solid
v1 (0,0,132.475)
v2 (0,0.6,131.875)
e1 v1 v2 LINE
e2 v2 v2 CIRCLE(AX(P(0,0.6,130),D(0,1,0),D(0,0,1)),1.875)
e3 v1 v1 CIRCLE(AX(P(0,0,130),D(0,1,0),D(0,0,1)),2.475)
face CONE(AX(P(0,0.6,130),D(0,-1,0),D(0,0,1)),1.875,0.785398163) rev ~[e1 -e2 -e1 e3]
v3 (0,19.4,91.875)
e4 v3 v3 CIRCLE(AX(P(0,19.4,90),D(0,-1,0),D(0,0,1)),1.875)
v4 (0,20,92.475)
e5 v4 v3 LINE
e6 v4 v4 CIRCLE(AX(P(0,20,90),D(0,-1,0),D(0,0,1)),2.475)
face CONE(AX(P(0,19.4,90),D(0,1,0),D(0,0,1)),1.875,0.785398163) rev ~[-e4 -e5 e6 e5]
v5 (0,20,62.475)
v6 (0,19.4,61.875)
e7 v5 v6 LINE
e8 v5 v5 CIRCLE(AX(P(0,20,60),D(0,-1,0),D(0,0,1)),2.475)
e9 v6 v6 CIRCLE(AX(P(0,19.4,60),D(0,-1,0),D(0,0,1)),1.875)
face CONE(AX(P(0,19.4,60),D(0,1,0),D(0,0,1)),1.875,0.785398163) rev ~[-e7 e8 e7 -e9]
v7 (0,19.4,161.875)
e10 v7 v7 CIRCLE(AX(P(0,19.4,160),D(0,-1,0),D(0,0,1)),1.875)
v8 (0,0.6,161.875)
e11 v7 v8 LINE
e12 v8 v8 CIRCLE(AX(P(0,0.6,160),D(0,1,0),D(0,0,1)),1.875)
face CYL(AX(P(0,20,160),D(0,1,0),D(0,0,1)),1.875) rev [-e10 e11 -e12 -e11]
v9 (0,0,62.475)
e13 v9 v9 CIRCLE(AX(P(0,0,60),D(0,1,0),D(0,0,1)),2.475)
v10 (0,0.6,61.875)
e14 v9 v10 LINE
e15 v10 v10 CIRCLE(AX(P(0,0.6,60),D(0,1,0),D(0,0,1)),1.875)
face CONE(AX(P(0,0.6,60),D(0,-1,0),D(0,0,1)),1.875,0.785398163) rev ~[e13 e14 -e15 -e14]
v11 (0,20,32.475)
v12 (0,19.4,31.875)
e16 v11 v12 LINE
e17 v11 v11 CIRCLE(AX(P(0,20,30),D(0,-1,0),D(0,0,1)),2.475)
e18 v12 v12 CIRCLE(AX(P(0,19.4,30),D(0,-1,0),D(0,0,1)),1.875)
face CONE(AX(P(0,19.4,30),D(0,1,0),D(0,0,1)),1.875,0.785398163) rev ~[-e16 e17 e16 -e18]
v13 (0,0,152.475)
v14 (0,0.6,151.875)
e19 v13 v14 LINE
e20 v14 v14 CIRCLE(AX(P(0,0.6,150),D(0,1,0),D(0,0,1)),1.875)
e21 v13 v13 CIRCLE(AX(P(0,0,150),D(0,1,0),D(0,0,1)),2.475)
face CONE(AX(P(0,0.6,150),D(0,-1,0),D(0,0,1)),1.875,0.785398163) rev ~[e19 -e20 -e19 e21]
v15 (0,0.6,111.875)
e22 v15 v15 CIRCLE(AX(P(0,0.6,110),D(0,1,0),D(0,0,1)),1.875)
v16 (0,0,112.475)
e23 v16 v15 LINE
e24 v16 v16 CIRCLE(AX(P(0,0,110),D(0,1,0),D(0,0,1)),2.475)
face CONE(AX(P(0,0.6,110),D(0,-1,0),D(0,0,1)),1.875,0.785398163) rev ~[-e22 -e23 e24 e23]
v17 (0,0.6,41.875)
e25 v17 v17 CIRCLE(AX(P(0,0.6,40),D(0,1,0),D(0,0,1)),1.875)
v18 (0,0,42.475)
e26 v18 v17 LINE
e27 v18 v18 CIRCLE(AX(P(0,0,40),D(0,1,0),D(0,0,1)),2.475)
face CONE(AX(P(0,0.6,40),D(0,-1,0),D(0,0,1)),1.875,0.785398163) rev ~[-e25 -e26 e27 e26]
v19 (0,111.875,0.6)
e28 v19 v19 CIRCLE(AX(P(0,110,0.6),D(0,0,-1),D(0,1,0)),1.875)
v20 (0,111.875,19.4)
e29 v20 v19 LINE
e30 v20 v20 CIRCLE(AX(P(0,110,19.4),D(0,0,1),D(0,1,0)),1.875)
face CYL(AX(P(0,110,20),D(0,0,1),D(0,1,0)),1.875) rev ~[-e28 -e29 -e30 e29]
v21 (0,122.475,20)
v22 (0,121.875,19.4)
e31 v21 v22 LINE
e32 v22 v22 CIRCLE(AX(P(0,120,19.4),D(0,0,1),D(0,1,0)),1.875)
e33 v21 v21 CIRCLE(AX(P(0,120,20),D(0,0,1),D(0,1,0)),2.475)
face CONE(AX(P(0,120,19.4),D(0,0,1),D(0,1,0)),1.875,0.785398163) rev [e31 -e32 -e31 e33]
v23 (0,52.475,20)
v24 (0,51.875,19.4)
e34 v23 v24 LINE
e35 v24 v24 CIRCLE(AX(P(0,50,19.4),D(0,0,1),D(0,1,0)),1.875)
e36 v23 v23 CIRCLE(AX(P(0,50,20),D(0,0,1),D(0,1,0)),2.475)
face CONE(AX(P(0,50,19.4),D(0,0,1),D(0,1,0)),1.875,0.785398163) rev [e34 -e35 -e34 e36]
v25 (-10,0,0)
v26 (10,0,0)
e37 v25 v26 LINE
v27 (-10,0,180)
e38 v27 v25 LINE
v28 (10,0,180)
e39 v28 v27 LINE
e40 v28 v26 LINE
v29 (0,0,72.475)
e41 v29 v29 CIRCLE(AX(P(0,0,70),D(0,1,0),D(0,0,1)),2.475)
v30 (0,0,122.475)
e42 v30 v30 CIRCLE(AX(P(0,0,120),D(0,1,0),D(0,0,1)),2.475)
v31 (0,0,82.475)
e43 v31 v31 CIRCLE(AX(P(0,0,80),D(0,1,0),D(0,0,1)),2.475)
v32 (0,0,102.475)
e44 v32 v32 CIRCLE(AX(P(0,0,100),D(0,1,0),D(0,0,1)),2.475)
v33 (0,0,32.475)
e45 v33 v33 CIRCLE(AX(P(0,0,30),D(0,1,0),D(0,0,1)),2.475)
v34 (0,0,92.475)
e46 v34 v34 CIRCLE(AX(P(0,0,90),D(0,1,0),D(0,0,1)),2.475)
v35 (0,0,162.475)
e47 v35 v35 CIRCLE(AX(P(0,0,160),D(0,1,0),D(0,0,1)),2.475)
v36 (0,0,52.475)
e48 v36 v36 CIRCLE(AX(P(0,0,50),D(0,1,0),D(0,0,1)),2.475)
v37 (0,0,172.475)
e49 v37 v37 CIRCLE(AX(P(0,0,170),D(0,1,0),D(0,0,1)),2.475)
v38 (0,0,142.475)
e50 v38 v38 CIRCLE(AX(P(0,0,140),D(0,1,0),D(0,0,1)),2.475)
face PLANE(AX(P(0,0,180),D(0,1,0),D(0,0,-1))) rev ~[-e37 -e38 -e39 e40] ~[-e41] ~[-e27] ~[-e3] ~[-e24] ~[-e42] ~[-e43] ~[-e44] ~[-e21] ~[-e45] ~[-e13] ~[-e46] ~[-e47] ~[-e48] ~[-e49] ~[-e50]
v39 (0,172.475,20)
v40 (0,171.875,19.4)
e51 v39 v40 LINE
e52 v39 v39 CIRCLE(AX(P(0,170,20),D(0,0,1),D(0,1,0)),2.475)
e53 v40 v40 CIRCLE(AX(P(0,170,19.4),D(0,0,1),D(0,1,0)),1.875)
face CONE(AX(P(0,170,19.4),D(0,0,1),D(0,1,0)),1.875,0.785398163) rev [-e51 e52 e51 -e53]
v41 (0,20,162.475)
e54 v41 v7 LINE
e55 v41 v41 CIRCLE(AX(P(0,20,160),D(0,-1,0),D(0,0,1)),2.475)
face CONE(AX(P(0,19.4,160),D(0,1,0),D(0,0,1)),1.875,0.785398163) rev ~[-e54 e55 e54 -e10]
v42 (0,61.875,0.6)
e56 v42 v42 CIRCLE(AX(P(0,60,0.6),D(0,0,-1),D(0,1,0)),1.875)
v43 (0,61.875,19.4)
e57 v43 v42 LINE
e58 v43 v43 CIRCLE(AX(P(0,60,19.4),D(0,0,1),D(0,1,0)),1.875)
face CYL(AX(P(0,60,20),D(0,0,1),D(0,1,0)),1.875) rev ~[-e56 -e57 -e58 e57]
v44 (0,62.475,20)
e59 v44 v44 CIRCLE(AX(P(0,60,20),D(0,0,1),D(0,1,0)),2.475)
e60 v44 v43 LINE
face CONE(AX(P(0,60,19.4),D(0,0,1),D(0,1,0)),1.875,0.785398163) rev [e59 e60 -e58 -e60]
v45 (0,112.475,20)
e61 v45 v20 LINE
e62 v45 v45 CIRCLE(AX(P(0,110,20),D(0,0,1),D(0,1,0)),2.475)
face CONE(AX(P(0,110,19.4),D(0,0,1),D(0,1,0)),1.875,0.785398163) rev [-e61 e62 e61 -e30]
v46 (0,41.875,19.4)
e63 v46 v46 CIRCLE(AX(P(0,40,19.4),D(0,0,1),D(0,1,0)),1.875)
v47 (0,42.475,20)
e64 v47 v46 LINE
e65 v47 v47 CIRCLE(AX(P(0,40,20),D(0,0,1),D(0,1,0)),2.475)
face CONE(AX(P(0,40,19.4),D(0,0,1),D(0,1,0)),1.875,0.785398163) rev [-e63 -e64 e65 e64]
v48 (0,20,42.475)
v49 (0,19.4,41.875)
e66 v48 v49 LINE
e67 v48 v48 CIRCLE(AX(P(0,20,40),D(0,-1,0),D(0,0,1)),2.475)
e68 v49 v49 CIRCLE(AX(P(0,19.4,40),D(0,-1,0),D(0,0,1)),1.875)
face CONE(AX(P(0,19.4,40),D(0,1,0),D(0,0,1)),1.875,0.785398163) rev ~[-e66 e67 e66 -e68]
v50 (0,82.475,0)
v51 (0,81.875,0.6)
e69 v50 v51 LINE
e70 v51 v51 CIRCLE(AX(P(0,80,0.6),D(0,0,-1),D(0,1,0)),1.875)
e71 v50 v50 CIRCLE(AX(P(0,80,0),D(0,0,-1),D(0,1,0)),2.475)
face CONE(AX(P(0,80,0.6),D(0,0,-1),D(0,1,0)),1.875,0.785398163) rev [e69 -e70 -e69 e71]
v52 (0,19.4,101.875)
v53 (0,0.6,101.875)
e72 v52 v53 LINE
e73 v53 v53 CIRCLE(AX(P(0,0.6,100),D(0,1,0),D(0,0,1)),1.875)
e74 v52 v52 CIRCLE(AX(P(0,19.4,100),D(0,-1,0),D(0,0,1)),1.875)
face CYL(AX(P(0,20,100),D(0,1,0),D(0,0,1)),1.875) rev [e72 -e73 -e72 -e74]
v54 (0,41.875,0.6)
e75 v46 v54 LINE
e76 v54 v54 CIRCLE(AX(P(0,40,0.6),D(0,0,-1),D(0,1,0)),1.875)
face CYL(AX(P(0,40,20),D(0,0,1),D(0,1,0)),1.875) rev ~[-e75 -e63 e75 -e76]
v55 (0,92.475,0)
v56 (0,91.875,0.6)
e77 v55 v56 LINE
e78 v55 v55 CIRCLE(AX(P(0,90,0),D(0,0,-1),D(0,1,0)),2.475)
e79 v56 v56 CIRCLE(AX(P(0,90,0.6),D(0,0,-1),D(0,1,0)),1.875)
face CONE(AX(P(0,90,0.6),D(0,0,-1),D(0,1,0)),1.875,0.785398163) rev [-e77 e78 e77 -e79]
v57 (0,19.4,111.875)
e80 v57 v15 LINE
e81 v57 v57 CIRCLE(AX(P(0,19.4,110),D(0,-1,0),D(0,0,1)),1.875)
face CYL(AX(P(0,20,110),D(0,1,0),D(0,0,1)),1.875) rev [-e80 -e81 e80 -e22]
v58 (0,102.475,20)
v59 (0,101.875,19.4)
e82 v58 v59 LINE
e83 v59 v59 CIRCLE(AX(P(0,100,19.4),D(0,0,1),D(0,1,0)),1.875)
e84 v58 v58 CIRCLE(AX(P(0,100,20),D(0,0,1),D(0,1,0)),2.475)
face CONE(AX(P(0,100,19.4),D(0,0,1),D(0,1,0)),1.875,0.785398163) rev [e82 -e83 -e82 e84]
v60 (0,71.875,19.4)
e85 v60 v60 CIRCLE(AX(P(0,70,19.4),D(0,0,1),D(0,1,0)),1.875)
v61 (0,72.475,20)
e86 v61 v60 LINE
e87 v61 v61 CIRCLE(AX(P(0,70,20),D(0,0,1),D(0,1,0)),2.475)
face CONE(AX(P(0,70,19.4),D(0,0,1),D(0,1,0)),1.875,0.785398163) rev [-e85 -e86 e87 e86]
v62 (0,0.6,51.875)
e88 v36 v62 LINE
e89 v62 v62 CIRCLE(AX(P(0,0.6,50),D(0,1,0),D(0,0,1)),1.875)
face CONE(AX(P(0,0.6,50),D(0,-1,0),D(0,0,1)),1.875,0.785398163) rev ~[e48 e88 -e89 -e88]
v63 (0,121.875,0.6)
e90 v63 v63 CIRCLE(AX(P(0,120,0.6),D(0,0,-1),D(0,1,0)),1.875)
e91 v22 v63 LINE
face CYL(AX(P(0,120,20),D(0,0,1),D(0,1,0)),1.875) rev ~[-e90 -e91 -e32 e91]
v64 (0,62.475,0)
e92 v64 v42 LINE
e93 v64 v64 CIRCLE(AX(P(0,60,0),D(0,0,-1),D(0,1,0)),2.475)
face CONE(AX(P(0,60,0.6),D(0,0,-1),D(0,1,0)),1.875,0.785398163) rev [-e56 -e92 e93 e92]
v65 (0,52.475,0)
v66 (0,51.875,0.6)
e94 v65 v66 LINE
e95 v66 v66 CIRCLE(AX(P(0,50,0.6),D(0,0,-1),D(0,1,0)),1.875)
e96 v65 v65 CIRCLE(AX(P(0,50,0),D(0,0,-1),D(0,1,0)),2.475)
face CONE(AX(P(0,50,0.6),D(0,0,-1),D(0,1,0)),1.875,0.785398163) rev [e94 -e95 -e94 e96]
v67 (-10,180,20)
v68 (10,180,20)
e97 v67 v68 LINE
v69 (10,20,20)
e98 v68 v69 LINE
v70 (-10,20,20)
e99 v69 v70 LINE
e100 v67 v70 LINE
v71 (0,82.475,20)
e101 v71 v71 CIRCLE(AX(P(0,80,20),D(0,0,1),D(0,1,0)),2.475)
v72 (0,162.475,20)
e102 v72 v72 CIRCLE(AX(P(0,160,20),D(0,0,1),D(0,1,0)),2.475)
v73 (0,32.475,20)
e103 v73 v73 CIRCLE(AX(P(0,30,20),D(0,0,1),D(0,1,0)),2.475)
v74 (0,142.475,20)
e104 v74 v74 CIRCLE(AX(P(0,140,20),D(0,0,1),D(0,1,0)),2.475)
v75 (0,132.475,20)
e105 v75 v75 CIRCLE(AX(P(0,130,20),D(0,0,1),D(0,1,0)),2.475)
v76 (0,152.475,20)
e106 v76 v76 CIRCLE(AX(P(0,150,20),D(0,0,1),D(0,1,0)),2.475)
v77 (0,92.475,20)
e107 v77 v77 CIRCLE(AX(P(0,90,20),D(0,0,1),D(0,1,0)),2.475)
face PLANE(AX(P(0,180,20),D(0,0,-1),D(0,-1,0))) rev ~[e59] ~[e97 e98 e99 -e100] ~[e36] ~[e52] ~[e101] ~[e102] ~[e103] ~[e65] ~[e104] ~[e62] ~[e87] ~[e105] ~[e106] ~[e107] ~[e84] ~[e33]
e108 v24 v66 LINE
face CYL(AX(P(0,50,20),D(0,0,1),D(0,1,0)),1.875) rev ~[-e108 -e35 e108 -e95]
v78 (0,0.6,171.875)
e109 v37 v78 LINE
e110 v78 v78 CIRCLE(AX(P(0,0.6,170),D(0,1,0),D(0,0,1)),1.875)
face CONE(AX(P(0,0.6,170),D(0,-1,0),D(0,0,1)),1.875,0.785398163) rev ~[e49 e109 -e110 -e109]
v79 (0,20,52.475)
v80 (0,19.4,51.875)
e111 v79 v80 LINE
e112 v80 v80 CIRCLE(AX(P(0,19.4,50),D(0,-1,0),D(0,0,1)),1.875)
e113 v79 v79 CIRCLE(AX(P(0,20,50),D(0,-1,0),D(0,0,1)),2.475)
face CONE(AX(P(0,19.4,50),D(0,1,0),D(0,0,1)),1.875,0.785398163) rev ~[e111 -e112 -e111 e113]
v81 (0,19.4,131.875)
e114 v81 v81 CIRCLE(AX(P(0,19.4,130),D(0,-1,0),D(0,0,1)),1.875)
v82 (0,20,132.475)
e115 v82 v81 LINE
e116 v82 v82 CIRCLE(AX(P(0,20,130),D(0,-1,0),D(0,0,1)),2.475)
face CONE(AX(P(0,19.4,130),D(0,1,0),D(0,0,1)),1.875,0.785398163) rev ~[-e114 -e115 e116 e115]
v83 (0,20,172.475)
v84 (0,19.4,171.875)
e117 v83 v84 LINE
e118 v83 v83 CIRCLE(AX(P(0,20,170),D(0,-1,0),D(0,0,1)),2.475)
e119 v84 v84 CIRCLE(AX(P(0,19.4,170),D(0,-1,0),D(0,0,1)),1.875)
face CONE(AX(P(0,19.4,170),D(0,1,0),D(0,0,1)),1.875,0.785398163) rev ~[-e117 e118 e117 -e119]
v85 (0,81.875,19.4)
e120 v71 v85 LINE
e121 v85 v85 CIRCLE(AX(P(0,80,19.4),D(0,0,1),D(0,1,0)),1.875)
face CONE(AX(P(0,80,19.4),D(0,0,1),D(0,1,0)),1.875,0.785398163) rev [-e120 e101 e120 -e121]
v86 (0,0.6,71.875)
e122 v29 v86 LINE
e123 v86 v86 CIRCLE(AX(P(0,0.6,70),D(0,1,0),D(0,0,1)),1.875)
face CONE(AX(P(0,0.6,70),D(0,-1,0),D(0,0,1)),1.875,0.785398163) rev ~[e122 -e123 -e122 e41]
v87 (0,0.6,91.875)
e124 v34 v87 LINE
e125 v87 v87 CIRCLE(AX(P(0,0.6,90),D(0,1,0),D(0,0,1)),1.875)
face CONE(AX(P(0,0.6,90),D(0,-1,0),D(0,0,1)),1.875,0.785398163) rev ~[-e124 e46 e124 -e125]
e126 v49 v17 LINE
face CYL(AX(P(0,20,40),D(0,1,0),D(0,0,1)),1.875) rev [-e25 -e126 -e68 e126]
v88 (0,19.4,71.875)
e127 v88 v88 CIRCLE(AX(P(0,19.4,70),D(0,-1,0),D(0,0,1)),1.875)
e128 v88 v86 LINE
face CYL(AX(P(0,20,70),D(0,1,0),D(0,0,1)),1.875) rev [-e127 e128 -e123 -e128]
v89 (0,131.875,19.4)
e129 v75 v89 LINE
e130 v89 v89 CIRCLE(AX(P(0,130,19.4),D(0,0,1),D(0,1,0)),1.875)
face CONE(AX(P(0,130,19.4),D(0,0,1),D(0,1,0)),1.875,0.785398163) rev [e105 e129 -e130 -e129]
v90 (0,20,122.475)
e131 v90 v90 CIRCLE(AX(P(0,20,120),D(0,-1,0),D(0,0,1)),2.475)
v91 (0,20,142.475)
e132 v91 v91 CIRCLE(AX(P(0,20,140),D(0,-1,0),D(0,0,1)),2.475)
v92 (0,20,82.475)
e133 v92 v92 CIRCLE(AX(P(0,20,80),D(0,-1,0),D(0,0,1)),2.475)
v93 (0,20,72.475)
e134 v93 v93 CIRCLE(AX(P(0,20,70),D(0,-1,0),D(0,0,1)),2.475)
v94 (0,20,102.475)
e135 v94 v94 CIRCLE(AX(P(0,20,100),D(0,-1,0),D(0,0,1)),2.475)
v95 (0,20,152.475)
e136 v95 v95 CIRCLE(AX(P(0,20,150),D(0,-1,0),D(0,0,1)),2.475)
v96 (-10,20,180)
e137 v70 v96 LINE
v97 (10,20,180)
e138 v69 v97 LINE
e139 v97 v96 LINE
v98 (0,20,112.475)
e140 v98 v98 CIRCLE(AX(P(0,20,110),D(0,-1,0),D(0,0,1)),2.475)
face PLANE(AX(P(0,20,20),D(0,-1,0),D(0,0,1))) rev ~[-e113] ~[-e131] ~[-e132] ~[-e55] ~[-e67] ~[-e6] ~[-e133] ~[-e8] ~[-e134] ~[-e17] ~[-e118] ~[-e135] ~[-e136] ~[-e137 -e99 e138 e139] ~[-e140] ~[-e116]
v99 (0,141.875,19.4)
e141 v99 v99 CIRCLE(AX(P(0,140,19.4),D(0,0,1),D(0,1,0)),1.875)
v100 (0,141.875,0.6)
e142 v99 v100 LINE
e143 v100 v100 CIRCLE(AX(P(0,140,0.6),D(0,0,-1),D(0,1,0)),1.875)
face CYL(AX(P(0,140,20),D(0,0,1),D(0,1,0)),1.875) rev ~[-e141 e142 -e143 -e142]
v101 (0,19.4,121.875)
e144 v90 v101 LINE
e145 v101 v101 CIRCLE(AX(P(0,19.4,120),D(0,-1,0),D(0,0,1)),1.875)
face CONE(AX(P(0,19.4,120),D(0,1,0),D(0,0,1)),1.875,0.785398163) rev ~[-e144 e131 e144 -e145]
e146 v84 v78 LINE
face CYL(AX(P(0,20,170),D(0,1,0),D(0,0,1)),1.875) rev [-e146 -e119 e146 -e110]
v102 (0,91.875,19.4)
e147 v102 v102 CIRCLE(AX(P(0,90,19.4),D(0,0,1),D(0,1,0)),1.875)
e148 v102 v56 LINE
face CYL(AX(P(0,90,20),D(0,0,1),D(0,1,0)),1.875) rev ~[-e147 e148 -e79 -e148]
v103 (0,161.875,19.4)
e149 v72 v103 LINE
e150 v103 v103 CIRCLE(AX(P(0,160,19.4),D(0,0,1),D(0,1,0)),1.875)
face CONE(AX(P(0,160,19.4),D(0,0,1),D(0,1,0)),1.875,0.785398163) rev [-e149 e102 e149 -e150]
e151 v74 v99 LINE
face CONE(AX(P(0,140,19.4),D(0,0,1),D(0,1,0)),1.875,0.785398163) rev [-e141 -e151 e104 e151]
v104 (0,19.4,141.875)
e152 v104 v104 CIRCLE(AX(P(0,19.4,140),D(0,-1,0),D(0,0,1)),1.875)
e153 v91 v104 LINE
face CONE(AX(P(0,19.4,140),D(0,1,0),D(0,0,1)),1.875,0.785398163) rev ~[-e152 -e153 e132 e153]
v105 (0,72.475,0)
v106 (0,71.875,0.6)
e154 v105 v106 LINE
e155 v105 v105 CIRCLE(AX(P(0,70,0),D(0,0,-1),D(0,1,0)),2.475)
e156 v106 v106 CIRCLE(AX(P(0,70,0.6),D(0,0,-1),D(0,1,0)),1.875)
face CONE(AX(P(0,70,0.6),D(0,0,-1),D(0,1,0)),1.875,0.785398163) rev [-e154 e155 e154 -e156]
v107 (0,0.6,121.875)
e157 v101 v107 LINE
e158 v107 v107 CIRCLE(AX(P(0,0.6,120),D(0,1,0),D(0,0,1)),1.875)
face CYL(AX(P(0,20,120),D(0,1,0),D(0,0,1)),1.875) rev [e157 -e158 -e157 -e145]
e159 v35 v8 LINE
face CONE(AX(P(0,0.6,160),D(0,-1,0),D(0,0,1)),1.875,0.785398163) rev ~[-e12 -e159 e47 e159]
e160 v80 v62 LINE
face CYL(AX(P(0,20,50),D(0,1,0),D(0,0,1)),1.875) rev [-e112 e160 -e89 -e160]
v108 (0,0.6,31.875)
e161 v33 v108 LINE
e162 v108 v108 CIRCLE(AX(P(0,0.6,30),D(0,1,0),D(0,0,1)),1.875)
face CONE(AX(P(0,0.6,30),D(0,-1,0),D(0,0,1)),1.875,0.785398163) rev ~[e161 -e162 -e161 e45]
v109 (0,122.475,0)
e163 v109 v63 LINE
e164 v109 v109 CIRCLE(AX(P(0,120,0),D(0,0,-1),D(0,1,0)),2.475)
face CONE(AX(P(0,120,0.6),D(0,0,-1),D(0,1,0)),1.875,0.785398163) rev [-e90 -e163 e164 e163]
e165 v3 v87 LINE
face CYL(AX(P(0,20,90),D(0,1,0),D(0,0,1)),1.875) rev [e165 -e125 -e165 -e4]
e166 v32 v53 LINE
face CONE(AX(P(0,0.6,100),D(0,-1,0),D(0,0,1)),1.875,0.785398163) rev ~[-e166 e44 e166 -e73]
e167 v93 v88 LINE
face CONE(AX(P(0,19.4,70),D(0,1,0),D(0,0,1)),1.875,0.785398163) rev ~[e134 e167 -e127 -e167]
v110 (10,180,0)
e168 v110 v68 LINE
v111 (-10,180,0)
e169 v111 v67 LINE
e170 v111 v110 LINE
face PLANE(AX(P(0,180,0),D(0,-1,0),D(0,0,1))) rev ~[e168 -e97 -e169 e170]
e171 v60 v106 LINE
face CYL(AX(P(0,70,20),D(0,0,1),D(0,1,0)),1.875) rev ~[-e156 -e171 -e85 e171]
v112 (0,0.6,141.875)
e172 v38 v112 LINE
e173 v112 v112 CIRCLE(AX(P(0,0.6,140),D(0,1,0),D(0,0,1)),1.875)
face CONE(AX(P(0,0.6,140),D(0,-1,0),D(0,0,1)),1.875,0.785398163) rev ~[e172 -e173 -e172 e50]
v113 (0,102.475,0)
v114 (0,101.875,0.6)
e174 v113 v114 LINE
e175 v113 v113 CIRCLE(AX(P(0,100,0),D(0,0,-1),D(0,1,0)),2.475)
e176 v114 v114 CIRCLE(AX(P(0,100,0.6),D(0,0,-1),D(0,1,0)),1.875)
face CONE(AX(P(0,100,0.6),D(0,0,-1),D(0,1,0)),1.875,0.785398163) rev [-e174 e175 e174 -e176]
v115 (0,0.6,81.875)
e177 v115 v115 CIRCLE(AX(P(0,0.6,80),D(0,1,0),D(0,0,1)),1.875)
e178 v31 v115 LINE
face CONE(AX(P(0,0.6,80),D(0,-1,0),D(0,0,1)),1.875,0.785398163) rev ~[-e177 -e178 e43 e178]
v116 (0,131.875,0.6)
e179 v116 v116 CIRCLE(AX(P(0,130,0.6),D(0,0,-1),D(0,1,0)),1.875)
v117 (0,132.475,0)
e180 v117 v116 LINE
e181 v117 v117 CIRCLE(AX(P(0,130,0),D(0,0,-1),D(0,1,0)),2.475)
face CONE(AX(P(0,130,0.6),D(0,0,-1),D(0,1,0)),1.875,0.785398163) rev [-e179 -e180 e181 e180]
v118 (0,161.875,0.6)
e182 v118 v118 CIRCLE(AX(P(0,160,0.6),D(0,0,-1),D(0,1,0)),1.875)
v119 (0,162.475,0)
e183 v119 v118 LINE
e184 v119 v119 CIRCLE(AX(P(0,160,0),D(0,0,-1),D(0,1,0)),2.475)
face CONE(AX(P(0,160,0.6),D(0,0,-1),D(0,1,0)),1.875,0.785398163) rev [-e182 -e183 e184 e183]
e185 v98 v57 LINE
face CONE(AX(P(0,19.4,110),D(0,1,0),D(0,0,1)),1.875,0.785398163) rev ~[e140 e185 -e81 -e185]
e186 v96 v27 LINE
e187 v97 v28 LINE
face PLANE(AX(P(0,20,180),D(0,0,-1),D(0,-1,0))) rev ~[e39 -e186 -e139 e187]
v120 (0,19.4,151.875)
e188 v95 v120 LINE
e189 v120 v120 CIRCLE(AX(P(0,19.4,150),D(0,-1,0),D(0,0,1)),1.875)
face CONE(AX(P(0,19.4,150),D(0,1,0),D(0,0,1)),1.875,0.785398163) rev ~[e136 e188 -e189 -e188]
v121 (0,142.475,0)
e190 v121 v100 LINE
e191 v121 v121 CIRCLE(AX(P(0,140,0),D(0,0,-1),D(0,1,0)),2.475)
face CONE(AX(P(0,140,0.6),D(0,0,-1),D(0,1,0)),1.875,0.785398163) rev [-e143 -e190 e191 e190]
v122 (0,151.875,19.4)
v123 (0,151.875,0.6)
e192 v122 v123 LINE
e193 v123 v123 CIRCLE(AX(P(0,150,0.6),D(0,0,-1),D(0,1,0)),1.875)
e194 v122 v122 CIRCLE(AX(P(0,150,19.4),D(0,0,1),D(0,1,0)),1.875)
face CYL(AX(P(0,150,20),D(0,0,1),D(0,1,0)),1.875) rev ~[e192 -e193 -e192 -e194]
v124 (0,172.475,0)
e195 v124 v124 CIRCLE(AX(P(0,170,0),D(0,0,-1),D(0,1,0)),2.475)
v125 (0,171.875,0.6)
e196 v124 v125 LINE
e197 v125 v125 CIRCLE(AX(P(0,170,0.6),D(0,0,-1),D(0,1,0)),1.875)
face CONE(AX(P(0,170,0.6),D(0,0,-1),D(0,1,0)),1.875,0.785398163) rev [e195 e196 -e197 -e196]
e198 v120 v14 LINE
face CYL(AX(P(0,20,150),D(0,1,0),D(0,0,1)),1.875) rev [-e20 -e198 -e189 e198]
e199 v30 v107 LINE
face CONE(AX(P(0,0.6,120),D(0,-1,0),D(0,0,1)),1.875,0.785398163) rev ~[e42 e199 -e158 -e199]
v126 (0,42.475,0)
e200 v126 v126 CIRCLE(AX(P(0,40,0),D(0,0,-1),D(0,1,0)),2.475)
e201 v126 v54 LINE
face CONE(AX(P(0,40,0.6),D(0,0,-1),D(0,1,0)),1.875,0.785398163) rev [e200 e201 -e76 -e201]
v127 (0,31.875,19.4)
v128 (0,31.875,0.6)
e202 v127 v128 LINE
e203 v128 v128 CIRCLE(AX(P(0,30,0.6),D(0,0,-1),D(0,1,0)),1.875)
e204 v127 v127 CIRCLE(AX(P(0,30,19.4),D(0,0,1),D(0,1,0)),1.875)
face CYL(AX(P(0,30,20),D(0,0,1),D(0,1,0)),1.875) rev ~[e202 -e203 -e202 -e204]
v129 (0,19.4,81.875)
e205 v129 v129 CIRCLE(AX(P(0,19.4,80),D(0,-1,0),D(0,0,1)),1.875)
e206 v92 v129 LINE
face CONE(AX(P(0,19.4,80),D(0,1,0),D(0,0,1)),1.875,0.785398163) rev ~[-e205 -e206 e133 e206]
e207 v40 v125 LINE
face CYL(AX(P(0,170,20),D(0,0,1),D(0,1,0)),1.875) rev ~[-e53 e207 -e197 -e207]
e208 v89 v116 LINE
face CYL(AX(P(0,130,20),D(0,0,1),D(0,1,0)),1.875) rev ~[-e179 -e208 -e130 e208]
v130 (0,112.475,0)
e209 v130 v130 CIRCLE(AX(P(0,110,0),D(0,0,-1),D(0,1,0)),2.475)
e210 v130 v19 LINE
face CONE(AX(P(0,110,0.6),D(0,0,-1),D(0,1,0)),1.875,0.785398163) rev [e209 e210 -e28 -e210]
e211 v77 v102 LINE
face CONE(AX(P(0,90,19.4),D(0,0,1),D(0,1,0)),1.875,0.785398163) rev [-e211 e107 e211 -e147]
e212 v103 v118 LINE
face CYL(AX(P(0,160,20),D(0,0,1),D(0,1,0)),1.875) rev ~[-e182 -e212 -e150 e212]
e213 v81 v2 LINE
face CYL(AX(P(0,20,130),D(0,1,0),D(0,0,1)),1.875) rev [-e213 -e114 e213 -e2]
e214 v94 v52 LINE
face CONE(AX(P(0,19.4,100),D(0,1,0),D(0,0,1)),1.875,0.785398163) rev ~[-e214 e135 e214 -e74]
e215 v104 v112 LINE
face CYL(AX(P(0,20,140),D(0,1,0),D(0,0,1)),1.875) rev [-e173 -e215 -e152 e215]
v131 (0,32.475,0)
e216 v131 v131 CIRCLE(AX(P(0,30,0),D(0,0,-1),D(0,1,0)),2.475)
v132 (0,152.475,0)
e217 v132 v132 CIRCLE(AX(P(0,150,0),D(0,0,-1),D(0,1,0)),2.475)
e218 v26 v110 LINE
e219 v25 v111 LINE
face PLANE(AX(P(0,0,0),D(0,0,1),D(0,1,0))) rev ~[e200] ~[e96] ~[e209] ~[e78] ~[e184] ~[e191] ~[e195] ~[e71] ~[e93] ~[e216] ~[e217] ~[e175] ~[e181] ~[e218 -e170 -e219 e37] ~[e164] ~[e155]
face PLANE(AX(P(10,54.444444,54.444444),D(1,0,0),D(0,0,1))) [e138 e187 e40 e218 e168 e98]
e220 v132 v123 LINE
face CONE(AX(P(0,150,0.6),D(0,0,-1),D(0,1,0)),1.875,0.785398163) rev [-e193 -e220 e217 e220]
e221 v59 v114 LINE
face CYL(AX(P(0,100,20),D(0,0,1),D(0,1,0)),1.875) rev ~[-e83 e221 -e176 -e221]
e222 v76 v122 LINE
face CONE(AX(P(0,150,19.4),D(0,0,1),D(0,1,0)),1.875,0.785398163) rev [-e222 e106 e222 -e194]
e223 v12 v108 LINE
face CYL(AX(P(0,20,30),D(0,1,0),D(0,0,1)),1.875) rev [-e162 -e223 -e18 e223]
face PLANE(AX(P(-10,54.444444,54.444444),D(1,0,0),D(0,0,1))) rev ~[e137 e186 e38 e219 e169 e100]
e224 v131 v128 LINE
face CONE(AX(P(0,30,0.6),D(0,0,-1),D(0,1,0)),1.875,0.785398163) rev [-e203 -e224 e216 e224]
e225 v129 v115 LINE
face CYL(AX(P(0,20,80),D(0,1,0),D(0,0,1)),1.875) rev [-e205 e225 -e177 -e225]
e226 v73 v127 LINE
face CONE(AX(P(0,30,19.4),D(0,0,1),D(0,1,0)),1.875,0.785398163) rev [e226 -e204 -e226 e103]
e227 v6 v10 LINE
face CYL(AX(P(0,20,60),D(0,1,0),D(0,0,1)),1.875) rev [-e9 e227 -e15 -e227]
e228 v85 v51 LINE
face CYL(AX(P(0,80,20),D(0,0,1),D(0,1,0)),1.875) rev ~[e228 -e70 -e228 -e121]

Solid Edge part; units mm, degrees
sketch "Sketch1" plane through (0, 0, 0) normal (1, 0, 0) x (0, 1, 0)
  line L0 (0, 180) -> (0, 0)
  line L1 (0, 0) -> (180, 0)
  line L2 (180, 0) -> (180, 20)
  line L3 (180, 20) -> (20, 20)
  line L4 (20, 20) -> (20, 180)
  line L5 (20, 180) -> (0, 180)
  dimension "D1" = 20
  dimension "D2" = 20
  dimension "D3" = 180
  dimension "D4" = 180
extrude "Protrusion1" add sketch "Sketch1" along normal mid plane 20
hole "hole_1" at (0, 20, 30) direction (0, -1, 0) diameter 3.75 end up to next start chamfer 0.6 start chamfer angle 45 end chamfer 0.6 end chamfer angle 45
pattern_linear "Pattern1" count 15 spacing 10 along (0, 0, 1) of "hole_1"
mirror "Mirror1" about plane through (0, 0, 0) normal (0, -0.7071, 0.7071) of "hole_1", "Pattern1"
properties material "Polyethylene (low density)"
